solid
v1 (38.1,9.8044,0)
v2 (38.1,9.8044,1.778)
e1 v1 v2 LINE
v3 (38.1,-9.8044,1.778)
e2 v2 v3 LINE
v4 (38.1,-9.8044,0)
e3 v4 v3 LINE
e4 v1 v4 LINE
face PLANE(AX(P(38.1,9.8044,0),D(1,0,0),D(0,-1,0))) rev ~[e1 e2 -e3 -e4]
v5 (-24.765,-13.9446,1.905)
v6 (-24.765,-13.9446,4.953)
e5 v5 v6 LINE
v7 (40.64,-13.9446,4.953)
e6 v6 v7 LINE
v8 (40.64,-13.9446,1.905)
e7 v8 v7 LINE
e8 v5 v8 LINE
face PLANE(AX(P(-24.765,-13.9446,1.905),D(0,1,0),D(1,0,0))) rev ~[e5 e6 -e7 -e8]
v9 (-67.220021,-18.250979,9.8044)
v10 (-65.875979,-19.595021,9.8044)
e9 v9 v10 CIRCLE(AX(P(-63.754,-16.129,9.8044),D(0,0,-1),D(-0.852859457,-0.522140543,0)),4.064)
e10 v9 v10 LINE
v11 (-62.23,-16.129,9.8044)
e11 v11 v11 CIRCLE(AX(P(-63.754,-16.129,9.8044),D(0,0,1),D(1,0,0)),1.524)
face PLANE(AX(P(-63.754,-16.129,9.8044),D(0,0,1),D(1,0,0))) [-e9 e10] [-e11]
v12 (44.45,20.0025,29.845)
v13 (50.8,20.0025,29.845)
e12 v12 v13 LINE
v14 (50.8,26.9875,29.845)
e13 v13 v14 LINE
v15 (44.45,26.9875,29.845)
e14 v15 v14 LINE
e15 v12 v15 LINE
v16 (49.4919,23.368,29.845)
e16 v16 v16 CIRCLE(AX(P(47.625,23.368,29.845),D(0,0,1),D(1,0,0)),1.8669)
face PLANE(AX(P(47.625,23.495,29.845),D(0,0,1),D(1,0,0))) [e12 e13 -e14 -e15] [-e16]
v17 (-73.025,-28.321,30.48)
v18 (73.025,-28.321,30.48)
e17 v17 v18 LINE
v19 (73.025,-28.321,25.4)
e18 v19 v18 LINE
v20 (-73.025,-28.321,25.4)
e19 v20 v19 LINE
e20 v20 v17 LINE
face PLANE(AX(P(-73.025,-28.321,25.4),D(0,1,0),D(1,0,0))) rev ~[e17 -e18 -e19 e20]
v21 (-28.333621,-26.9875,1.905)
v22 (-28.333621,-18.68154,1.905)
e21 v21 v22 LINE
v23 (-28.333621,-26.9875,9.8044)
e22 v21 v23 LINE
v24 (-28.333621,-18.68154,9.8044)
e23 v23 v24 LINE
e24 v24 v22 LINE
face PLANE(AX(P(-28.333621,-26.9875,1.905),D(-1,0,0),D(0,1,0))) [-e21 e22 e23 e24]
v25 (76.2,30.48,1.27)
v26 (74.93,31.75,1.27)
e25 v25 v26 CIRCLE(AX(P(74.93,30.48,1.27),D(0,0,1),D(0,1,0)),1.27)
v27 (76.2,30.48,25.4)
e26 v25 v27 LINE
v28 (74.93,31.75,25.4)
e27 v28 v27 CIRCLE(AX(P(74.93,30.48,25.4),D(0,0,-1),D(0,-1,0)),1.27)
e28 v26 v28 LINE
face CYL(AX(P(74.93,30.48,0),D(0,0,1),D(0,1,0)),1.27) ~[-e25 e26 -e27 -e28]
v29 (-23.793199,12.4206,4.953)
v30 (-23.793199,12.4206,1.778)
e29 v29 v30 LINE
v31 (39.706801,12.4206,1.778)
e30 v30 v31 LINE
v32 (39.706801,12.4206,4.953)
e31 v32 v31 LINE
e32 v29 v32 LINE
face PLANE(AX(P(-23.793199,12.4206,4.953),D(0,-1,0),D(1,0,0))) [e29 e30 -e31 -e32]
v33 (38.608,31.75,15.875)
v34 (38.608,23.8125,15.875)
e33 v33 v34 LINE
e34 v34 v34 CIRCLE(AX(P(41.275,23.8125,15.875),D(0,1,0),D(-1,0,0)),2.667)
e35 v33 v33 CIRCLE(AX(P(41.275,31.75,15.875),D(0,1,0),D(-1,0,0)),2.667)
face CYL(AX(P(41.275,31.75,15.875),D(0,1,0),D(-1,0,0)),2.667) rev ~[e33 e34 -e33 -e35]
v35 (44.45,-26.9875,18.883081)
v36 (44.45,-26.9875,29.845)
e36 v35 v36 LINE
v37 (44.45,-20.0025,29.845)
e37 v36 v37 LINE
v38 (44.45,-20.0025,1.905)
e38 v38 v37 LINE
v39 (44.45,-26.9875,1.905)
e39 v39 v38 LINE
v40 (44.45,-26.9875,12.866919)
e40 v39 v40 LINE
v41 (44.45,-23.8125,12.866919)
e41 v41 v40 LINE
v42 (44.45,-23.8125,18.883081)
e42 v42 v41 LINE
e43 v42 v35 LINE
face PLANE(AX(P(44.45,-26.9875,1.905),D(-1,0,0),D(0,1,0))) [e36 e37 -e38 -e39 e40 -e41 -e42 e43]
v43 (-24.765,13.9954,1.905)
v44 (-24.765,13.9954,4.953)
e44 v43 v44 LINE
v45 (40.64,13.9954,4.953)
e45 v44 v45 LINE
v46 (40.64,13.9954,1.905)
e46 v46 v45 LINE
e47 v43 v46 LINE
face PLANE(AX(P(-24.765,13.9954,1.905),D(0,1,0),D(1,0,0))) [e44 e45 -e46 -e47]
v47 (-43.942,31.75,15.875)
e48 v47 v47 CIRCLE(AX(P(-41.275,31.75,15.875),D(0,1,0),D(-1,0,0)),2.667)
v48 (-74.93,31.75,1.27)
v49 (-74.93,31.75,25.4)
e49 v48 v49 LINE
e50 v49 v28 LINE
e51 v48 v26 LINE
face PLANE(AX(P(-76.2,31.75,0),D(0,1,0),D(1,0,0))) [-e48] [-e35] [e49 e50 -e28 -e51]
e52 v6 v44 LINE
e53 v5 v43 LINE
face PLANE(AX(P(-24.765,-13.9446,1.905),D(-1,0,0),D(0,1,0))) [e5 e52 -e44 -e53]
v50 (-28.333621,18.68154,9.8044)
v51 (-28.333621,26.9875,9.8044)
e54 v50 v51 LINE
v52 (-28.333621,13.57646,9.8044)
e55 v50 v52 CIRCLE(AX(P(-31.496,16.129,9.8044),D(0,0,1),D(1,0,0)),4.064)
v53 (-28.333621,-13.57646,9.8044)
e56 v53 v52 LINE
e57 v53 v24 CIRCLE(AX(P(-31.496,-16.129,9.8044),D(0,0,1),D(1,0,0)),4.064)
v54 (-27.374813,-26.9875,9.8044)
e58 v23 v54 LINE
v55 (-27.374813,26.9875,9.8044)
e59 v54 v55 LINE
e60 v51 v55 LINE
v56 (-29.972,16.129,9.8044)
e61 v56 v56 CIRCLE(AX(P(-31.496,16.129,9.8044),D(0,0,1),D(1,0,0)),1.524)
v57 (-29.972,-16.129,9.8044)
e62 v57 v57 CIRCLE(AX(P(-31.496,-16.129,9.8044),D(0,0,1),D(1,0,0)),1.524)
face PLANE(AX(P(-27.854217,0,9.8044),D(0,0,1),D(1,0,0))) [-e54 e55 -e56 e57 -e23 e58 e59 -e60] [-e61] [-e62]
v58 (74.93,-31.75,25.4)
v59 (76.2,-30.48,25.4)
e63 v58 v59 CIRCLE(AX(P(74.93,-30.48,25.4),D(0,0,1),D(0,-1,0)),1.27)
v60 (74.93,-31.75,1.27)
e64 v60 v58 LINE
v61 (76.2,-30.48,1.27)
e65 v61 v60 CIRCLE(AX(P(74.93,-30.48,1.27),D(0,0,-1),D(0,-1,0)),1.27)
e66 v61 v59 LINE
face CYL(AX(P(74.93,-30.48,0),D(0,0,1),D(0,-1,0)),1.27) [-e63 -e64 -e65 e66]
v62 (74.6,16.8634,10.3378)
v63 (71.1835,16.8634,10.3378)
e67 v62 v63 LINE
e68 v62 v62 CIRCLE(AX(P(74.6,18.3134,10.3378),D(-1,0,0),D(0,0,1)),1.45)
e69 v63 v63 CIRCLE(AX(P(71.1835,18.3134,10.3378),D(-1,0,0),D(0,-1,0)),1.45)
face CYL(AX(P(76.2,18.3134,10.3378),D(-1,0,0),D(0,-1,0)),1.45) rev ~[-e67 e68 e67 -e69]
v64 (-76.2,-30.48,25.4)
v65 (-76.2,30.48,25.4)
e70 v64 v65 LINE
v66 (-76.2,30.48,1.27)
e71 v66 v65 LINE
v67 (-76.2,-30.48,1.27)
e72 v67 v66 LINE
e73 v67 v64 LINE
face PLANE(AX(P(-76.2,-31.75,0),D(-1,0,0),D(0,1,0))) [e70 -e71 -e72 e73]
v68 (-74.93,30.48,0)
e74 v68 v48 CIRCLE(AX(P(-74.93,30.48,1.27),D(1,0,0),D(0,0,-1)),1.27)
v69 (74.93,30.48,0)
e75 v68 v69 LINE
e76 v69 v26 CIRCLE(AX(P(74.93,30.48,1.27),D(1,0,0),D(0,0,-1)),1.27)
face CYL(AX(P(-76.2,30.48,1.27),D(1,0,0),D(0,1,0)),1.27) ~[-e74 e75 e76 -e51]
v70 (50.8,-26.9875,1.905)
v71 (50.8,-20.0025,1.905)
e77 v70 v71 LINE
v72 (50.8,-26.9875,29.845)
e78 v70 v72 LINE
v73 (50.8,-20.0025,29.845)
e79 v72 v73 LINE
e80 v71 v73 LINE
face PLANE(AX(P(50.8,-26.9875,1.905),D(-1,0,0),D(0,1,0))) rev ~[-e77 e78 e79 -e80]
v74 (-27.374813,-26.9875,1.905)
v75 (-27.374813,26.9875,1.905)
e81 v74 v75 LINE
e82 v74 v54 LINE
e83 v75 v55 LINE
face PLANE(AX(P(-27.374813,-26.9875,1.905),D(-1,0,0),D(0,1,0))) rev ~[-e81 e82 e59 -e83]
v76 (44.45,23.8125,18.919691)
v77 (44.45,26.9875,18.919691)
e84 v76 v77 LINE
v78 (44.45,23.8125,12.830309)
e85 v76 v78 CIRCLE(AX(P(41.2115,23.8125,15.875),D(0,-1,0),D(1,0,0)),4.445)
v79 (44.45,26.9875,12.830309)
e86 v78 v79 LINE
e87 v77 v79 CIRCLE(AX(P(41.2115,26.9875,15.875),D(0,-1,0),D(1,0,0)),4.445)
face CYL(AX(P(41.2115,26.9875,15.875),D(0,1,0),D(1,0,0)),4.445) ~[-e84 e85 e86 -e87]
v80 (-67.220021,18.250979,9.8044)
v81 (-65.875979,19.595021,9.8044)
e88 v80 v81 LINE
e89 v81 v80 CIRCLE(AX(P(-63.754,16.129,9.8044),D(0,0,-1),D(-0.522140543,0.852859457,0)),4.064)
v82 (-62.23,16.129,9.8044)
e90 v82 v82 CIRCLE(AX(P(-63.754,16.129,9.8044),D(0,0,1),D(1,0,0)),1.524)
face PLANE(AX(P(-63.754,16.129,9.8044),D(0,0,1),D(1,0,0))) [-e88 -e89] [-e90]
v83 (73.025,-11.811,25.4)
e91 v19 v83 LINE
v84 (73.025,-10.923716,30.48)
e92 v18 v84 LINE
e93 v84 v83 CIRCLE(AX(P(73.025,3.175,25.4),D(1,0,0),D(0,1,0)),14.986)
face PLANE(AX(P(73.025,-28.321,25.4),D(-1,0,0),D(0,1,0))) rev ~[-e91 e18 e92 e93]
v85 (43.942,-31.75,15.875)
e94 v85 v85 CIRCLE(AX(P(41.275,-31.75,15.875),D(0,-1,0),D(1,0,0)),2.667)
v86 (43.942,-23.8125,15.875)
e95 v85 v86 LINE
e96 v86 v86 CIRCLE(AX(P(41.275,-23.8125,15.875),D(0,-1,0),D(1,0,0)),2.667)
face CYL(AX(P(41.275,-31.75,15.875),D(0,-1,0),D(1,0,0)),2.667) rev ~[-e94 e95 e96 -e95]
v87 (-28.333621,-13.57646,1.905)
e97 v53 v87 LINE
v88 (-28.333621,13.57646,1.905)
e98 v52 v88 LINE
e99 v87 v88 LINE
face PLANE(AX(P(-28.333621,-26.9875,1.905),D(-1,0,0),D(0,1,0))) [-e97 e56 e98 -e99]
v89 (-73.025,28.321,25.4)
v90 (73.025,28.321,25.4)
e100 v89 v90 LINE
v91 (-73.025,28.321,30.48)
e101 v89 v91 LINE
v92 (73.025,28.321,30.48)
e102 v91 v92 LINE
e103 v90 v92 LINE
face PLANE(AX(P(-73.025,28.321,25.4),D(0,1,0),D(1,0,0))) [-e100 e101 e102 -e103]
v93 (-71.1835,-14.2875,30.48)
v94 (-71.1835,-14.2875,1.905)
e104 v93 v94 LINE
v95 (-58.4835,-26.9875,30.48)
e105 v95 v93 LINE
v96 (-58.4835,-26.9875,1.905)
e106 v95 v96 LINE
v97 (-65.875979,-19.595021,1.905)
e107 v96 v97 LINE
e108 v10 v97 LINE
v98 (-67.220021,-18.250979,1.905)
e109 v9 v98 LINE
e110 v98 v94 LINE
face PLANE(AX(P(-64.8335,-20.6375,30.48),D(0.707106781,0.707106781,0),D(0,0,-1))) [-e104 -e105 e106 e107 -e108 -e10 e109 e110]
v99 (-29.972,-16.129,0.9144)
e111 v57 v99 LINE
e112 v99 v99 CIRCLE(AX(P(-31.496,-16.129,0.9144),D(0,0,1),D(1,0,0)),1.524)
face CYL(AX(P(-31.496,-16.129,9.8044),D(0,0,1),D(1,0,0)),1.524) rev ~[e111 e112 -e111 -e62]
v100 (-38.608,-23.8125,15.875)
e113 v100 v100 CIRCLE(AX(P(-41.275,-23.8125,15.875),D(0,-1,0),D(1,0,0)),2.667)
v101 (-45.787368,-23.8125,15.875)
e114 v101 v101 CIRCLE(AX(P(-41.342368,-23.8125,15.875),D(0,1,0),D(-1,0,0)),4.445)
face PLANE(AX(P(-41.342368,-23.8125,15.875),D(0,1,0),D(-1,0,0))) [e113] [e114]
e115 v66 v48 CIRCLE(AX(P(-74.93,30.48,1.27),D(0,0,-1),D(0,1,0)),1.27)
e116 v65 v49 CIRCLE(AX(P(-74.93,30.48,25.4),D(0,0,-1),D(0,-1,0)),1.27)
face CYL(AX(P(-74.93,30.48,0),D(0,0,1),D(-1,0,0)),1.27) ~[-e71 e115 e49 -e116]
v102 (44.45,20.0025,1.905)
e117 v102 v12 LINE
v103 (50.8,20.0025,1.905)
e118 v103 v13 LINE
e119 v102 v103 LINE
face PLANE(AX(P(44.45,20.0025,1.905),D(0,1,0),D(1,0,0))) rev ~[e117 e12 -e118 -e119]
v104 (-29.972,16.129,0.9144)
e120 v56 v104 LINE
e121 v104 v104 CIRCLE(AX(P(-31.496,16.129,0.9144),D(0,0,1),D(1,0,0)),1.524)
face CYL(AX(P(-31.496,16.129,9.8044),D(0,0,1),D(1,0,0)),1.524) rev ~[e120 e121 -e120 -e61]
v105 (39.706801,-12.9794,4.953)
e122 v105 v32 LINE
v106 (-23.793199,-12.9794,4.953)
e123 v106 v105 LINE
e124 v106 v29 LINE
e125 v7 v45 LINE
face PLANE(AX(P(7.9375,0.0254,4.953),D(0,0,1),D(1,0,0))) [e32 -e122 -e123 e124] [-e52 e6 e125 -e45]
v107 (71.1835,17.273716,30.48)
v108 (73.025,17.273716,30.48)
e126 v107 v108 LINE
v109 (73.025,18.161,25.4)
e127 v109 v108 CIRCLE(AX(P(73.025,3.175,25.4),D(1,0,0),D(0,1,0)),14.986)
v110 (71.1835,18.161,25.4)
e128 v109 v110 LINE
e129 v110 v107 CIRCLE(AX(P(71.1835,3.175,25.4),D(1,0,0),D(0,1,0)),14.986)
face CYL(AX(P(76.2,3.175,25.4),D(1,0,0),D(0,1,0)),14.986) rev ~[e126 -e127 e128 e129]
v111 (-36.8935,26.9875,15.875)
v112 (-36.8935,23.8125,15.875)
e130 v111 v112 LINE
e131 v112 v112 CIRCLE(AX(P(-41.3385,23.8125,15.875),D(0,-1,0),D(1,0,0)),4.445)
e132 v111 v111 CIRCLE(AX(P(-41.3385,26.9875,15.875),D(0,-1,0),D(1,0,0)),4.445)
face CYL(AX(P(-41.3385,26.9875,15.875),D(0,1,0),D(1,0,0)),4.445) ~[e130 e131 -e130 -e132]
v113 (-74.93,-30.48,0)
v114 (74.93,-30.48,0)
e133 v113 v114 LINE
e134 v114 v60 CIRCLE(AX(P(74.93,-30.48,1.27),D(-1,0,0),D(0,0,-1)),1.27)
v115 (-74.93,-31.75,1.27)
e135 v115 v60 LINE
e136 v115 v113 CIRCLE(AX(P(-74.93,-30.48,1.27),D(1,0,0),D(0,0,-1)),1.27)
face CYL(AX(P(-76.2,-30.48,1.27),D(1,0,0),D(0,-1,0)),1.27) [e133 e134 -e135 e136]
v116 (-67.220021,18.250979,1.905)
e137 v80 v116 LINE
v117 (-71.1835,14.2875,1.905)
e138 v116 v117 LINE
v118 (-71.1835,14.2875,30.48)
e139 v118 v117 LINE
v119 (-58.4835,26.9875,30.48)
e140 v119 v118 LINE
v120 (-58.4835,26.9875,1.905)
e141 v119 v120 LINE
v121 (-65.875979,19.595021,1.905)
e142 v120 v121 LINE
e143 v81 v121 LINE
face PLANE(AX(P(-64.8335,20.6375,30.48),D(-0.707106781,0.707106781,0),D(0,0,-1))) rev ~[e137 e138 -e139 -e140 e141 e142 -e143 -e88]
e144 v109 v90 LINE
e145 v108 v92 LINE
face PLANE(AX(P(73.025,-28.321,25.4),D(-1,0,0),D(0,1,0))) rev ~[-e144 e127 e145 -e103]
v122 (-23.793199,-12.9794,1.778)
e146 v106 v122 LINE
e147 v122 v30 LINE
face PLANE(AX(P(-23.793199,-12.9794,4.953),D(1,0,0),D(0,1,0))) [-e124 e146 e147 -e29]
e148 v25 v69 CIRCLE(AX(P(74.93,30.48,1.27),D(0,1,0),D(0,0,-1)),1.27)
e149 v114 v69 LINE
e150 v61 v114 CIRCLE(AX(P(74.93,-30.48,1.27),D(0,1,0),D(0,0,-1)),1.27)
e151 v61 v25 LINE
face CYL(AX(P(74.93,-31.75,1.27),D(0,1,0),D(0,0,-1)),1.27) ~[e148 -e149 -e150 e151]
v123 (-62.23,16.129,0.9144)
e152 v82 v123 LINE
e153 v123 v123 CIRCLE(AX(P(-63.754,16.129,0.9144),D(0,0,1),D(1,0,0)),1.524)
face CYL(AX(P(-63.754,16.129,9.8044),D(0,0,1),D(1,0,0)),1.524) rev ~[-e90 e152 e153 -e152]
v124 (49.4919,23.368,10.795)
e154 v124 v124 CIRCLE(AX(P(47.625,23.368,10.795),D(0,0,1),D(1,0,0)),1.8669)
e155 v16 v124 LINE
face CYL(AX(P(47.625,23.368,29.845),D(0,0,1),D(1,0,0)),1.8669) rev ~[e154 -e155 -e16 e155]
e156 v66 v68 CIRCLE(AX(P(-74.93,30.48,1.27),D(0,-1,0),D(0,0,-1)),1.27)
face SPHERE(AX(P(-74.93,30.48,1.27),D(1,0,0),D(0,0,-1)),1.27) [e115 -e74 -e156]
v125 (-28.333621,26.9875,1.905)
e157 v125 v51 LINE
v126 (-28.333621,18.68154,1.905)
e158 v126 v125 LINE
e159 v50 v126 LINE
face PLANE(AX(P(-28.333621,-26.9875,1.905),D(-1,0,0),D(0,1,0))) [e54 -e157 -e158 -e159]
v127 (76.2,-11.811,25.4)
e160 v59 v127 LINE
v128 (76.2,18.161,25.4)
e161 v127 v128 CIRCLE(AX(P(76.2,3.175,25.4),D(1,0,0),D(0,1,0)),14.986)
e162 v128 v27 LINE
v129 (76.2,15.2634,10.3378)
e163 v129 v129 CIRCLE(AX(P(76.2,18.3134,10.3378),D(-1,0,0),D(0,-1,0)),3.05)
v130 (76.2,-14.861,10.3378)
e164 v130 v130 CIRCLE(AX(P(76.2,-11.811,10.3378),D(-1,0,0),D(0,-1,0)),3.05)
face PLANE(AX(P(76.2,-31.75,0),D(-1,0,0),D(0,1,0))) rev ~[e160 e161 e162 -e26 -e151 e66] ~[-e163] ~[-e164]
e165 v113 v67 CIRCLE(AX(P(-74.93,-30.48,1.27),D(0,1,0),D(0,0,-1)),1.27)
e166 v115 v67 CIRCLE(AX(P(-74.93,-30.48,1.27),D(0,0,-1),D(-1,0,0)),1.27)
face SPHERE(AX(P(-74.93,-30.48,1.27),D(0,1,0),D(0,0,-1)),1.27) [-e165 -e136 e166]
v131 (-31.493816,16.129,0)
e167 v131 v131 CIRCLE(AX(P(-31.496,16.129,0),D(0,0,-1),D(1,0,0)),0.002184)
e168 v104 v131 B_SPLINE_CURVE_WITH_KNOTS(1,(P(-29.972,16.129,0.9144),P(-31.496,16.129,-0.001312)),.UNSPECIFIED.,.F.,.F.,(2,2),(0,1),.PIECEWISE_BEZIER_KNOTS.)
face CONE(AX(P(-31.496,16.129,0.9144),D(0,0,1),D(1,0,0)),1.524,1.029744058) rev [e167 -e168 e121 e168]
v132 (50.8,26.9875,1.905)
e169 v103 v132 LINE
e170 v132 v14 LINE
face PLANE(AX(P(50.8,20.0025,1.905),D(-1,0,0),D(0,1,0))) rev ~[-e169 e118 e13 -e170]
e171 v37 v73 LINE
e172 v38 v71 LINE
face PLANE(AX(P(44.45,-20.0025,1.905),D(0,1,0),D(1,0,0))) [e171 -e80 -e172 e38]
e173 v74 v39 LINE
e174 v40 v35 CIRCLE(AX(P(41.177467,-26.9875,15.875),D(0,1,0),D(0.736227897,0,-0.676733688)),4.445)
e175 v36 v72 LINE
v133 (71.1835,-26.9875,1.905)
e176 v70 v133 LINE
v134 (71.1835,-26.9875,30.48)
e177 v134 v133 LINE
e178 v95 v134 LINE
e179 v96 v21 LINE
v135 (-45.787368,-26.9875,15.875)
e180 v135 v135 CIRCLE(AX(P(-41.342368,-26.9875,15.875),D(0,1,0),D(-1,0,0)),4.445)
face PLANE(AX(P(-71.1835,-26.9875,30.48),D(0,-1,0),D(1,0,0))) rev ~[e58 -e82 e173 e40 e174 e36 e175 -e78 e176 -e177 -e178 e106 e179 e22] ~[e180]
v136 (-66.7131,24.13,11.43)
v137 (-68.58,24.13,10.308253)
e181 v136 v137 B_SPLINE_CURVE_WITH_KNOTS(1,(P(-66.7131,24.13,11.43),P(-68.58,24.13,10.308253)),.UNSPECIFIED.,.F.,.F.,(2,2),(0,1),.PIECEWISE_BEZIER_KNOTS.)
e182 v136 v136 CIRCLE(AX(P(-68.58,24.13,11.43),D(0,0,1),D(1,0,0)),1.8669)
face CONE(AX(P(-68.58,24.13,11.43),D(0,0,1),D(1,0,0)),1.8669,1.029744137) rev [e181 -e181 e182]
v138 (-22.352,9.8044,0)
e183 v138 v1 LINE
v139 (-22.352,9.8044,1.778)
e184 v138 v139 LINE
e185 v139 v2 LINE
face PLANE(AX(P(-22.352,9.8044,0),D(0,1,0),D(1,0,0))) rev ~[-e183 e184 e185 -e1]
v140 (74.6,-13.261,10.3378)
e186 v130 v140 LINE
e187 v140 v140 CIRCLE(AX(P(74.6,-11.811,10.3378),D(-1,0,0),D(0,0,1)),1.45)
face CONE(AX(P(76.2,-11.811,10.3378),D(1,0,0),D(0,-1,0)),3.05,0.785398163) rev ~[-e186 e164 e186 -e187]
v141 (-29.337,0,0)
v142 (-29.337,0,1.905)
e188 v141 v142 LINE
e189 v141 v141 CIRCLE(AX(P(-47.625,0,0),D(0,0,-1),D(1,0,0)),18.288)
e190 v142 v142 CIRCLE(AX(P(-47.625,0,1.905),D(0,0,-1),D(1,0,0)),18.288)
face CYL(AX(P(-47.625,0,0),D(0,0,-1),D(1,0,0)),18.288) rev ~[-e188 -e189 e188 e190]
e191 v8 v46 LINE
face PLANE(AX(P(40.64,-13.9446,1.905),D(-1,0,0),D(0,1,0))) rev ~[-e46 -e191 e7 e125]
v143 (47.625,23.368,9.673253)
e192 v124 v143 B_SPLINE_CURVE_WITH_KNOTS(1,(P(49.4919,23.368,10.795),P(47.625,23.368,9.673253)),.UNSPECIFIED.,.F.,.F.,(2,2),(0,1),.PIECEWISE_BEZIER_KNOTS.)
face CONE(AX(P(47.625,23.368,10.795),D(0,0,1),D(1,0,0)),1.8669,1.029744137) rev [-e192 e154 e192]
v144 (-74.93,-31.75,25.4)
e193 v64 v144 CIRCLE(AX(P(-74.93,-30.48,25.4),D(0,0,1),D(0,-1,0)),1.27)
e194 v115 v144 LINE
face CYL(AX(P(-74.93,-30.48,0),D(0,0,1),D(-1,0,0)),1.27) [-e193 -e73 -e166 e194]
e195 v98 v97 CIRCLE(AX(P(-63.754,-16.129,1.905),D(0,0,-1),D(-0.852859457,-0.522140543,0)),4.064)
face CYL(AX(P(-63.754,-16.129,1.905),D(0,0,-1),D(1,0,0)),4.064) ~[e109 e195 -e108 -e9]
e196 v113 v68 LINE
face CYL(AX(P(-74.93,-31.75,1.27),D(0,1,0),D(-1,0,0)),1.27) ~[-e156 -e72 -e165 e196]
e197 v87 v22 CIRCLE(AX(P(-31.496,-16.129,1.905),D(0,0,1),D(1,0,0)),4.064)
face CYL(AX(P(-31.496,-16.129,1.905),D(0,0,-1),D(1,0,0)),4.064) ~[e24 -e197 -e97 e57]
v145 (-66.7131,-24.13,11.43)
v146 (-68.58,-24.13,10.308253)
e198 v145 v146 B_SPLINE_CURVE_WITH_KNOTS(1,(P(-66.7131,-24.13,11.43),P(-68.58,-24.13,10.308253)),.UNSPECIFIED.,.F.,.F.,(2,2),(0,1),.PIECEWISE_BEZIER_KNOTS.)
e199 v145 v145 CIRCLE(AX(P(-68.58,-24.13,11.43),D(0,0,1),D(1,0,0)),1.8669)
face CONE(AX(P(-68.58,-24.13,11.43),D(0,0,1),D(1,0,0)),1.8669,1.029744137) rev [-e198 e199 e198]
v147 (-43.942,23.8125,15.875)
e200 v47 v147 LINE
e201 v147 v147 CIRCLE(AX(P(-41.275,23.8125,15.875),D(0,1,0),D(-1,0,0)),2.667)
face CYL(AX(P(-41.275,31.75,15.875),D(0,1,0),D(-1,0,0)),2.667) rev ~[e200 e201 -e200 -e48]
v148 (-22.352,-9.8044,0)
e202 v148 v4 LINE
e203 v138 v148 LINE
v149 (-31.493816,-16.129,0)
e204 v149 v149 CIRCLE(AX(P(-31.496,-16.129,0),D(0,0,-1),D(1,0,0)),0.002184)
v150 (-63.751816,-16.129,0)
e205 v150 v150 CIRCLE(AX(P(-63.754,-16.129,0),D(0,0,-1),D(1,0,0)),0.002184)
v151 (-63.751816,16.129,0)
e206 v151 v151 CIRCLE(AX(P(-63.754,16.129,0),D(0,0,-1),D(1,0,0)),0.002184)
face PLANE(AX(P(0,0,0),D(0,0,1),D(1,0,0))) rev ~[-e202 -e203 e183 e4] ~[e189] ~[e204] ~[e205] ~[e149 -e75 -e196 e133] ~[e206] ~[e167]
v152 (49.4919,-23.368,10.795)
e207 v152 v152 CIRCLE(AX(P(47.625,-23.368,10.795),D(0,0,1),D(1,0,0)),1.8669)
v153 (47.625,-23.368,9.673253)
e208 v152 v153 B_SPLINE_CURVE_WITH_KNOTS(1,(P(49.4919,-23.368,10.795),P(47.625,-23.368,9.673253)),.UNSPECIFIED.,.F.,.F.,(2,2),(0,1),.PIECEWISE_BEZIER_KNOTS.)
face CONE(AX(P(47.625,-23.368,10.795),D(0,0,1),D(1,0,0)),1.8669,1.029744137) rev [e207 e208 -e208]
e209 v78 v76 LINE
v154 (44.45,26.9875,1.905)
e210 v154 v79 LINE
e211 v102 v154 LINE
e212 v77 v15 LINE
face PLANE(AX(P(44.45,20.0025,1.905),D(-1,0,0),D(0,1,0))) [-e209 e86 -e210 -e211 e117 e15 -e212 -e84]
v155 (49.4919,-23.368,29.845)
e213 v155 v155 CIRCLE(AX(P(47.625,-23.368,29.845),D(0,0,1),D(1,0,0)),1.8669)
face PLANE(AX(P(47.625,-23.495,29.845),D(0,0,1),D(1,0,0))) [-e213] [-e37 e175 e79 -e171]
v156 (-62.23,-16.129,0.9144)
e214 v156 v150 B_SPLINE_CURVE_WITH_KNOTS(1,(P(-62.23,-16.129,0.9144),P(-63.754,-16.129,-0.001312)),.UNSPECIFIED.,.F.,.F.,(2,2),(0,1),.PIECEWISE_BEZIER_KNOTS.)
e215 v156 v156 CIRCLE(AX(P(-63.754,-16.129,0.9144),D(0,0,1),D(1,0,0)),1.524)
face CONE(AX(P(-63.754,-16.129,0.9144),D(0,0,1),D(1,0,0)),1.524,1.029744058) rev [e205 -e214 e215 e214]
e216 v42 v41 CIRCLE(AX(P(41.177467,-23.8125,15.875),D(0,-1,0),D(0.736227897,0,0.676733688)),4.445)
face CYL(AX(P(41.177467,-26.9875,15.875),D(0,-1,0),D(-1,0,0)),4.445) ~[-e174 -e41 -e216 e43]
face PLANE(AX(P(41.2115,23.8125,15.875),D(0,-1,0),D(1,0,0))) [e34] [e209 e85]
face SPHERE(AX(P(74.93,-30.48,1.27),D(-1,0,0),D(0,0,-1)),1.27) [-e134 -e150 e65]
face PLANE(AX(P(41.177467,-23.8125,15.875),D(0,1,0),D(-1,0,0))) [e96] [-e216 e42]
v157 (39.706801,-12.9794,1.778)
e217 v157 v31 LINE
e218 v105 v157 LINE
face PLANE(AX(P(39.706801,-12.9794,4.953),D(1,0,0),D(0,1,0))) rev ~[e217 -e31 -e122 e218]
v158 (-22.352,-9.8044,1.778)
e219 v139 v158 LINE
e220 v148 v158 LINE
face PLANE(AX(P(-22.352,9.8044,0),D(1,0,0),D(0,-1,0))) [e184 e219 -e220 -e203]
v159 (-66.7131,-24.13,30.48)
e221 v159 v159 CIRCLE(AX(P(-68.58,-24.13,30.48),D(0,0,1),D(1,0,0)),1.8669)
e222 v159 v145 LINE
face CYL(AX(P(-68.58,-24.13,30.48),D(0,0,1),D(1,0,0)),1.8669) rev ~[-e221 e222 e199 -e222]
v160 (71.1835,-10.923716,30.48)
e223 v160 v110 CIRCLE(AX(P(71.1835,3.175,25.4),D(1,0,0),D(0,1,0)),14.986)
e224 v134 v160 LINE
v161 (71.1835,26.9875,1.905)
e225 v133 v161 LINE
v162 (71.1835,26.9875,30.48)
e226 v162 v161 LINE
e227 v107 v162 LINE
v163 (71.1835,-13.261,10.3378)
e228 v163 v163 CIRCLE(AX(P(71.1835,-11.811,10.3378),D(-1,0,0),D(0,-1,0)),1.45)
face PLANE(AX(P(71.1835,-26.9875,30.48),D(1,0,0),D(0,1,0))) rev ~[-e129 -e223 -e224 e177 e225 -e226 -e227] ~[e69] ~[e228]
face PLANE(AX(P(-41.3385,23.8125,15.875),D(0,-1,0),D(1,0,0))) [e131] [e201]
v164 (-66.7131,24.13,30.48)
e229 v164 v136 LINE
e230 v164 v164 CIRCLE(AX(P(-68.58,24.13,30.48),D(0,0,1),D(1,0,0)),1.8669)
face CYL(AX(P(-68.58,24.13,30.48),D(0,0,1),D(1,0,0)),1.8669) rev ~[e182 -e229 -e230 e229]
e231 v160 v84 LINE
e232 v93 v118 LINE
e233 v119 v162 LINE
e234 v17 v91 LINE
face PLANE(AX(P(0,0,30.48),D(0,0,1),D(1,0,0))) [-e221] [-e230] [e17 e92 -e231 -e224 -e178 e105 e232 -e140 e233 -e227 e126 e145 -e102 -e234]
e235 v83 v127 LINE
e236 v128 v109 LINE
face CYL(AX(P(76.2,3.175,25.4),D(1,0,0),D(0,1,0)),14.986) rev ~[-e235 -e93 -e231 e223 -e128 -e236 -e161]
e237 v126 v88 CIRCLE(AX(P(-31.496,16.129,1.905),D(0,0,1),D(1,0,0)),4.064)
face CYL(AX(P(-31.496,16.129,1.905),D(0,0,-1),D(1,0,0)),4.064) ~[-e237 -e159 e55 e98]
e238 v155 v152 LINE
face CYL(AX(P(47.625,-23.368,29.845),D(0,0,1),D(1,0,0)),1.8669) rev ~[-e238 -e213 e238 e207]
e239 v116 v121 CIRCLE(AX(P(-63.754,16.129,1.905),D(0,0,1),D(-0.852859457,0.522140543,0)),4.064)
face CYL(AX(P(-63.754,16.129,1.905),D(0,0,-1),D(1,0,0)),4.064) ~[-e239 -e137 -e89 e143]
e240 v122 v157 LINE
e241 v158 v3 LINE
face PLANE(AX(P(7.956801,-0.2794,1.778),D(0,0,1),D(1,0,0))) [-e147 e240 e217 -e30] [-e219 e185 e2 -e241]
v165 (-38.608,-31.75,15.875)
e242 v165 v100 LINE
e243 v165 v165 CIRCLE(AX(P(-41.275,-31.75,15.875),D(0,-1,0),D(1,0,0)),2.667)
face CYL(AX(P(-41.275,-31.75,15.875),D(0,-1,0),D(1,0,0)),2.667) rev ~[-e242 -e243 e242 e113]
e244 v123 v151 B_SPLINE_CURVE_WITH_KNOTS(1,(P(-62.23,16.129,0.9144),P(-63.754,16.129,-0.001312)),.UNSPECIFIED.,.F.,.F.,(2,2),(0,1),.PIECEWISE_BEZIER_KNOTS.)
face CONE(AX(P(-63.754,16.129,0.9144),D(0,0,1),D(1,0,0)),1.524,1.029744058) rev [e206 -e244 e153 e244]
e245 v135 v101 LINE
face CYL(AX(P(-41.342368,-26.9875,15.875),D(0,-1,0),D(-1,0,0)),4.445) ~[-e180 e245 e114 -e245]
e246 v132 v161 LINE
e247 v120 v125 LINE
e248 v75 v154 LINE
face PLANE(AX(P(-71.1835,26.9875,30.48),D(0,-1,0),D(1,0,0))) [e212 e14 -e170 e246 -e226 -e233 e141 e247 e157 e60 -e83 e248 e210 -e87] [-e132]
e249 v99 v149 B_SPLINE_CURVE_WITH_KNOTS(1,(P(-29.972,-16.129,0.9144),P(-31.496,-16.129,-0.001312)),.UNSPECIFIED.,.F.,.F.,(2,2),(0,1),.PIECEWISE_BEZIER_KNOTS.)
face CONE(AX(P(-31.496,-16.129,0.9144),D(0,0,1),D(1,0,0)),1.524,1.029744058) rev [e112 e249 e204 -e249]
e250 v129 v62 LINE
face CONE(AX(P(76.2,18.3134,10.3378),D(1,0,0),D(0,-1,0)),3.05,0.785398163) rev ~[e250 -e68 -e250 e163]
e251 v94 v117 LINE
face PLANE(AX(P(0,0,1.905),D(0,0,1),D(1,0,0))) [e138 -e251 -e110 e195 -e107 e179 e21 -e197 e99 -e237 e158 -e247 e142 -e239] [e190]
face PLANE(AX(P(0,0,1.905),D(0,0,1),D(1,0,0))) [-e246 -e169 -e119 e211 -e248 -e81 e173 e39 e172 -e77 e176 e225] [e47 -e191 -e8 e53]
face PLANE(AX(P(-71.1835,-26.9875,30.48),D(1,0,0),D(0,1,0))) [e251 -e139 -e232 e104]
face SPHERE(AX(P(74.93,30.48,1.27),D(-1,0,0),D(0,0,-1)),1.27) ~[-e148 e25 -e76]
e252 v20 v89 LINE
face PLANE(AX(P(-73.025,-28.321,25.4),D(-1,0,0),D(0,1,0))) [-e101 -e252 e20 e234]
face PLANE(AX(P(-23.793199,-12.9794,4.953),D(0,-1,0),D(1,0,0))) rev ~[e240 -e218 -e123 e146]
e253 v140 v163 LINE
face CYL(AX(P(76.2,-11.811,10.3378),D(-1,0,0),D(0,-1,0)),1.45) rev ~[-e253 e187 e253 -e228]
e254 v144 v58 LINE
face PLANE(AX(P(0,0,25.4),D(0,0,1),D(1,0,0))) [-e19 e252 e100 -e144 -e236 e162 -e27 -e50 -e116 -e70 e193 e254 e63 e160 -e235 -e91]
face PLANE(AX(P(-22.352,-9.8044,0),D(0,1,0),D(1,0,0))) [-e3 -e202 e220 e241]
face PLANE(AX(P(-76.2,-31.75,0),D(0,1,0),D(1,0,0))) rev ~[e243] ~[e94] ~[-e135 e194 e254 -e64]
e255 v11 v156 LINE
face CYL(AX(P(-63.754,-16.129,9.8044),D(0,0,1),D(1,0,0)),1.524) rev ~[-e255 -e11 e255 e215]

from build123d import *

# Parameters (mm, degrees)
SKETCH_W            = 152.4
SKETCH_H            = 63.5
PAD_DEPTH           = 25.4
SKETCH001_W         = 146.05
SKETCH001_H         = 56.642
PAD001_DEPTH        = 5.08
SKETCH002_W         = 142.367
SKETCH002_H         = 53.975
POCKET_DEPTH        = 28.575
FILLET_R            = 1.27
CHAMFER_SIZE        = 12.7
SKETCH003_R         = 1.8669
HOLE_DEPTH          = 19.05
HOLE_TIPS_R         = 1.8669
SKETCH004_R         = 14.986
POCKET001_DEPTH     = 12.7
SKETCH006_R         = 18.288
POCKET003_DEPTH     = 5.0038
SKETCH007_R         = 4.064
PAD002_DEPTH        = 7.8994
SKETCH008_R         = 1.524
HOLE001_DEPTH       = 8.89
HOLE001_TIPS_R      = 1.524
SKETCH010_W         = 0.958809
SKETCH010_H         = 53.975
PAD003_DEPTH        = 7.8994
SKETCH011_W         = 6.35
SKETCH011_H         = 6.985
PAD004_DEPTH        = 27.94
SKETCH012_R         = 1.8669
HOLE002_DEPTH       = 19.05
HOLE002_TIPS_R      = 1.8669
HOLE003_D           = 2.9
HOLE003_DEPTH       = 24.9936
HOLE003_CSINK_D     = 6.1
HOLE003_CSINK_ANGLE = 90
HOLE003_TIPS_R      = 1.45
SKETCH015_R         = 4.445
PAD005_DEPTH        = 3.175
SKETCH016_R         = 2.667
HOLE004_DEPTH       = 12.7
HOLE004_TIPS_R      = 2.667
SKETCH017_R         = 4.445
PAD006_DEPTH        = 3.175
SKETCH018_R         = 2.667
HOLE005_DEPTH       = 12.7
HOLE005_TIPS_R      = 2.667
SKETCH009_W         = 65.405
SKETCH009_H         = 27.94
PAD007_DEPTH        = 3.048
SKETCH005_W         = 60.452
SKETCH005_H         = 19.6088
POCKET004_DEPTH     = 10.16
SKETCH019_W         = 63.5
SKETCH019_H         = 25.4
POCKET005_DEPTH     = 3.175


with BuildPart() as part:
    # Sketch → Pad (new body)
    with BuildSketch(Plane.XY):
        Rectangle(SKETCH_W, SKETCH_H)
    extrude(amount=PAD_DEPTH)

    # Sketch001 (on Face6 of Pad) → Pad001 (join)
    with BuildSketch(Plane.XY.offset(25.4)):
        Rectangle(SKETCH001_W, SKETCH001_H)
    extrude(amount=PAD001_DEPTH)

    # Sketch002 (on Face11 of Pad001) → Pocket (cut)
    with BuildSketch(Plane.XY.offset(30.48)):
        Rectangle(SKETCH002_W, SKETCH002_H)
    extrude(amount=-POCKET_DEPTH, mode=Mode.SUBTRACT)

    # Fillet
    fillet_edges = [part.edges().sort_by_distance(p)[0] for p in [
        (0, 31.75, 0),
        (-76.2, 0, 0),
        (0, -31.75, 0),
        (76.2, 0, 0),
        (-76.2, 31.75, 12.7),
        (76.2, 31.75, 12.7),
        (76.2, -31.75, 12.7),
        (-76.2, -31.75, 12.7),
    ]]
    fillet(fillet_edges, radius=FILLET_R)

    # Chamfer
    chamfer_edges = [part.edges().sort_by_distance(p)[0] for p in [
        (-71.1835, 26.9875, 16.1925),
        (-71.1835, -26.9875, 16.1925),
    ]]
    chamfer(chamfer_edges, length=CHAMFER_SIZE)

    # Sketch003 (on Face1 of Chamfer) → Hole (cut)
    with BuildSketch(Plane.XY.offset(30.48)):
        with Locations((-68.58, 24.13)):
            Circle(SKETCH003_R)
        with Locations((-68.58, -24.13)):
            Circle(SKETCH003_R)
    extrude(amount=-HOLE_DEPTH, mode=Mode.SUBTRACT)

    # Hole tips → Hole tip 1 section 0
    with BuildSketch(Plane.XY.offset(11.43), mode=Mode.PRIVATE) as hole_tip_1_s0:
        with Locations((-68.58, 24.13)):
            Circle(HOLE_TIPS_R)
    loft([hole_tip_1_s0.sketch, Vertex(-68.58, 24.13, 10.308253)], mode=Mode.SUBTRACT)

    # Hole tips → Hole tip 2 section 0
    with BuildSketch(Plane.XY.offset(11.43), mode=Mode.PRIVATE) as hole_tip_2_s0:
        with Locations((-68.58, -24.13)):
            Circle(HOLE_TIPS_R)
    loft([hole_tip_2_s0.sketch, Vertex(-68.58, -24.13, 10.308253)], mode=Mode.SUBTRACT)

    # Sketch004 (on Face25 of Hole) → Pocket001 (cut)
    with BuildSketch(Plane.YZ.offset(76.2)):
        with Locations((3.175, 25.4)):
            Circle(SKETCH004_R)
    extrude(amount=-POCKET001_DEPTH, mode=Mode.SUBTRACT)

    # Sketch006 → Pocket003 (cut)
    with BuildSketch(Plane(origin=(0, 0, 0), x_dir=(1, 0, 0), z_dir=(0, 0, -1))):
        with Locations((-47.625, 0)):
            Circle(SKETCH006_R)
    extrude(amount=-POCKET003_DEPTH, mode=Mode.SUBTRACT)

    # Sketch007 (on Face18 of Pocket003) → Pad002 (join)
    with BuildSketch(Plane.XY.offset(1.905)):
        with Locations((-63.754, 16.129)):
            Circle(SKETCH007_R)
        with Locations((-31.496, 16.129)):
            Circle(SKETCH007_R)
        with Locations((-31.496, -16.129)):
            Circle(SKETCH007_R)
        with Locations((-63.754, -16.129)):
            Circle(SKETCH007_R)
    extrude(amount=PAD002_DEPTH)

    # Sketch008 (on Face19 of Pad002) → Hole001 (cut)
    with BuildSketch(Plane.XY.offset(9.8044)):
        with Locations((-63.754, 16.129)):
            Circle(SKETCH008_R)
        with Locations((-31.496, 16.129)):
            Circle(SKETCH008_R)
        with Locations((-31.496, -16.129)):
            Circle(SKETCH008_R)
        with Locations((-63.754, -16.129)):
            Circle(SKETCH008_R)
    extrude(amount=-HOLE001_DEPTH, mode=Mode.SUBTRACT)

    # Hole001 tips → Hole001 tip 1 section 0
    with BuildSketch(Plane.XY.offset(0.9144), mode=Mode.PRIVATE) as hole001_tip_1_s0:
        with Locations((-63.754, 16.129)):
            Circle(HOLE001_TIPS_R)
    loft([hole001_tip_1_s0.sketch, Vertex(-63.754, 16.129, -0.001312)], mode=Mode.SUBTRACT)

    # Hole001 tips → Hole001 tip 2 section 0
    with BuildSketch(Plane.XY.offset(0.9144), mode=Mode.PRIVATE) as hole001_tip_2_s0:
        with Locations((-31.496, 16.129)):
            Circle(HOLE001_TIPS_R)
    loft([hole001_tip_2_s0.sketch, Vertex(-31.496, 16.129, -0.001312)], mode=Mode.SUBTRACT)

    # Hole001 tips → Hole001 tip 3 section 0
    with BuildSketch(Plane.XY.offset(0.9144), mode=Mode.PRIVATE) as hole001_tip_3_s0:
        with Locations((-31.496, -16.129)):
            Circle(HOLE001_TIPS_R)
    loft([hole001_tip_3_s0.sketch, Vertex(-31.496, -16.129, -0.001312)], mode=Mode.SUBTRACT)

    # Hole001 tips → Hole001 tip 4 section 0
    with BuildSketch(Plane.XY.offset(0.9144), mode=Mode.PRIVATE) as hole001_tip_4_s0:
        with Locations((-63.754, -16.129)):
            Circle(HOLE001_TIPS_R)
    loft([hole001_tip_4_s0.sketch, Vertex(-63.754, -16.129, -0.001312)], mode=Mode.SUBTRACT)

    # Sketch010 → Pad003 (join)
    with BuildSketch(Plane.XY.offset(1.905)):
        with Locations((-27.854217, 0)):
            Rectangle(SKETCH010_W, SKETCH010_H)
    extrude(amount=PAD003_DEPTH)

    # Sketch011 (on Face18 of Pad003) → Pad004 (join)
    with BuildSketch(Plane.XY.offset(1.905)):
        with Locations((47.625, 23.495)):
            Rectangle(SKETCH011_W, SKETCH011_H)
        with Locations((47.625, -23.495)):
            Rectangle(SKETCH011_W, SKETCH011_H)
    extrude(amount=PAD004_DEPTH)

    # Sketch012 (on Face24 of Pad004) → Hole002 (cut)
    with BuildSketch(Plane.XY.offset(29.845)):
        with Locations((47.625, 23.368)):
            Circle(SKETCH012_R)
        with Locations((47.625, -23.368)):
            Circle(SKETCH012_R)
    extrude(amount=-HOLE002_DEPTH, mode=Mode.SUBTRACT)

    # Hole002 tips → Hole002 tip 1 section 0
    with BuildSketch(Plane.XY.offset(10.795), mode=Mode.PRIVATE) as hole002_tip_1_s0:
        with Locations((47.625, 23.368)):
            Circle(HOLE002_TIPS_R)
    loft([hole002_tip_1_s0.sketch, Vertex(47.625, 23.368, 9.673253)], mode=Mode.SUBTRACT)

    # Hole002 tips → Hole002 tip 2 section 0
    with BuildSketch(Plane.XY.offset(10.795), mode=Mode.PRIVATE) as hole002_tip_2_s0:
        with Locations((47.625, -23.368)):
            Circle(HOLE002_TIPS_R)
    loft([hole002_tip_2_s0.sketch, Vertex(47.625, -23.368, 9.673253)], mode=Mode.SUBTRACT)

    # Hole003
    with Locations(Plane.YZ.offset(76.2)):
        with Locations((-11.811, 10.3378), (18.3134, 10.3378)):
            CounterSinkHole(HOLE003_D / 2, HOLE003_CSINK_D / 2, depth=HOLE003_DEPTH, counter_sink_angle=HOLE003_CSINK_ANGLE)

    # Hole003 tips → Hole003 tip 1 section 0
    with BuildSketch(Plane.YZ.offset(51.2064), mode=Mode.PRIVATE) as hole003_tip_1_s0:
        with Locations((-11.811, 10.3378)):
            Circle(HOLE003_TIPS_R)
    loft([hole003_tip_1_s0.sketch, Vertex(50.335152, -11.811, 10.3378)], mode=Mode.SUBTRACT)

    # Hole003 tips → Hole003 tip 2 section 0
    with BuildSketch(Plane.YZ.offset(51.2064), mode=Mode.PRIVATE) as hole003_tip_2_s0:
        with Locations((18.3134, 10.3378)):
            Circle(HOLE003_TIPS_R)
    loft([hole003_tip_2_s0.sketch, Vertex(50.335152, 18.3134, 10.3378)], mode=Mode.SUBTRACT)

    # Sketch015 → Pad005 (join)
    with BuildSketch(Plane(origin=(0, -26.9875, 0), x_dir=(-1, 0, 0), z_dir=(0, 1, 0))):
        with Locations((-41.177467, 15.875)):
            Circle(SKETCH015_R)
        with Locations((41.342368, 15.875)):
            Circle(SKETCH015_R)
    extrude(amount=PAD005_DEPTH)

    # Sketch016 (on Face43 of Pad005) → Hole004 (cut)
    with BuildSketch(Plane.XZ.offset(31.75)):
        with Locations((-41.275, 15.875)):
            Circle(SKETCH016_R)
        with Locations((41.275, 15.875)):
            Circle(SKETCH016_R)
    extrude(amount=-HOLE004_DEPTH, mode=Mode.SUBTRACT)

    # Hole004 tips → Hole004 tip 1 section 0
    with BuildSketch(Plane.XZ.offset(19.05), mode=Mode.PRIVATE) as hole004_tip_1_s0:
        with Locations((-41.275, 15.875)):
            Circle(HOLE004_TIPS_R)
    loft([hole004_tip_1_s0.sketch, Vertex(-41.275, -17.447505, 15.875)], mode=Mode.SUBTRACT)

    # Hole004 tips → Hole004 tip 2 section 0
    with BuildSketch(Plane.XZ.offset(19.05), mode=Mode.PRIVATE) as hole004_tip_2_s0:
        with Locations((41.275, 15.875)):
            Circle(HOLE004_TIPS_R)
    loft([hole004_tip_2_s0.sketch, Vertex(41.275, -17.447505, 15.875)], mode=Mode.SUBTRACT)

    # Sketch017 (on Face6 of Hole004) → Pad006 (join)
    with BuildSketch(Plane.XZ.offset(-26.9875)):
        with Locations((-41.3385, 15.875)):
            Circle(SKETCH017_R)
        with Locations((41.2115, 15.875)):
            Circle(SKETCH017_R)
    extrude(amount=PAD006_DEPTH)

    # Sketch018 (on Face43 of Pad006) → Hole005 (cut)
    with BuildSketch(Plane(origin=(0, 31.75, 0), x_dir=(-1, 0, 0), z_dir=(0, 1, 0))):
        with Locations((-41.275, 15.875)):
            Circle(SKETCH018_R)
        with Locations((41.275, 15.875)):
            Circle(SKETCH018_R)
    extrude(amount=-HOLE005_DEPTH, mode=Mode.SUBTRACT)

    # Hole005 tips → Hole005 tip 1 section 0
    with BuildSketch(Plane(origin=(0, 19.05, 0), x_dir=(-1, 0, 0), z_dir=(0, 1, 0)), mode=Mode.PRIVATE) as hole005_tip_1_s0:
        with Locations((-41.275, 15.875)):
            Circle(HOLE005_TIPS_R)
    loft([hole005_tip_1_s0.sketch, Vertex(41.275, 17.447505, 15.875)], mode=Mode.SUBTRACT)

    # Hole005 tips → Hole005 tip 2 section 0
    with BuildSketch(Plane(origin=(0, 19.05, 0), x_dir=(-1, 0, 0), z_dir=(0, 1, 0)), mode=Mode.PRIVATE) as hole005_tip_2_s0:
        with Locations((41.275, 15.875)):
            Circle(HOLE005_TIPS_R)
    loft([hole005_tip_2_s0.sketch, Vertex(-41.275, 17.447505, 15.875)], mode=Mode.SUBTRACT)

    # Sketch009 (on Face18 of Hole001) → Pad007 (join)
    with BuildSketch(Plane.XY.offset(1.905)):
        with Locations((7.9375, 0.0254)):
            Rectangle(SKETCH009_W, SKETCH009_H)
    extrude(amount=PAD007_DEPTH)

    # Sketch005 (on Face35 of Pocket001) → Pocket004 (cut)
    with BuildSketch(Plane(origin=(0, 0, 0), x_dir=(1, 0, 0), z_dir=(0, 0, -1))):
        with Locations((7.874, 0)):
            Rectangle(SKETCH005_W, SKETCH005_H)
    extrude(amount=-POCKET004_DEPTH, mode=Mode.SUBTRACT)

    # Sketch019 (on Face84 of Pocket004) → Pocket005 (cut)
    with BuildSketch(Plane.XY.offset(4.953)):
        with Locations((7.956801, -0.2794)):
            Rectangle(SKETCH019_W, SKETCH019_H)
    extrude(amount=-POCKET005_DEPTH, mode=Mode.SUBTRACT)


solid = part.part
